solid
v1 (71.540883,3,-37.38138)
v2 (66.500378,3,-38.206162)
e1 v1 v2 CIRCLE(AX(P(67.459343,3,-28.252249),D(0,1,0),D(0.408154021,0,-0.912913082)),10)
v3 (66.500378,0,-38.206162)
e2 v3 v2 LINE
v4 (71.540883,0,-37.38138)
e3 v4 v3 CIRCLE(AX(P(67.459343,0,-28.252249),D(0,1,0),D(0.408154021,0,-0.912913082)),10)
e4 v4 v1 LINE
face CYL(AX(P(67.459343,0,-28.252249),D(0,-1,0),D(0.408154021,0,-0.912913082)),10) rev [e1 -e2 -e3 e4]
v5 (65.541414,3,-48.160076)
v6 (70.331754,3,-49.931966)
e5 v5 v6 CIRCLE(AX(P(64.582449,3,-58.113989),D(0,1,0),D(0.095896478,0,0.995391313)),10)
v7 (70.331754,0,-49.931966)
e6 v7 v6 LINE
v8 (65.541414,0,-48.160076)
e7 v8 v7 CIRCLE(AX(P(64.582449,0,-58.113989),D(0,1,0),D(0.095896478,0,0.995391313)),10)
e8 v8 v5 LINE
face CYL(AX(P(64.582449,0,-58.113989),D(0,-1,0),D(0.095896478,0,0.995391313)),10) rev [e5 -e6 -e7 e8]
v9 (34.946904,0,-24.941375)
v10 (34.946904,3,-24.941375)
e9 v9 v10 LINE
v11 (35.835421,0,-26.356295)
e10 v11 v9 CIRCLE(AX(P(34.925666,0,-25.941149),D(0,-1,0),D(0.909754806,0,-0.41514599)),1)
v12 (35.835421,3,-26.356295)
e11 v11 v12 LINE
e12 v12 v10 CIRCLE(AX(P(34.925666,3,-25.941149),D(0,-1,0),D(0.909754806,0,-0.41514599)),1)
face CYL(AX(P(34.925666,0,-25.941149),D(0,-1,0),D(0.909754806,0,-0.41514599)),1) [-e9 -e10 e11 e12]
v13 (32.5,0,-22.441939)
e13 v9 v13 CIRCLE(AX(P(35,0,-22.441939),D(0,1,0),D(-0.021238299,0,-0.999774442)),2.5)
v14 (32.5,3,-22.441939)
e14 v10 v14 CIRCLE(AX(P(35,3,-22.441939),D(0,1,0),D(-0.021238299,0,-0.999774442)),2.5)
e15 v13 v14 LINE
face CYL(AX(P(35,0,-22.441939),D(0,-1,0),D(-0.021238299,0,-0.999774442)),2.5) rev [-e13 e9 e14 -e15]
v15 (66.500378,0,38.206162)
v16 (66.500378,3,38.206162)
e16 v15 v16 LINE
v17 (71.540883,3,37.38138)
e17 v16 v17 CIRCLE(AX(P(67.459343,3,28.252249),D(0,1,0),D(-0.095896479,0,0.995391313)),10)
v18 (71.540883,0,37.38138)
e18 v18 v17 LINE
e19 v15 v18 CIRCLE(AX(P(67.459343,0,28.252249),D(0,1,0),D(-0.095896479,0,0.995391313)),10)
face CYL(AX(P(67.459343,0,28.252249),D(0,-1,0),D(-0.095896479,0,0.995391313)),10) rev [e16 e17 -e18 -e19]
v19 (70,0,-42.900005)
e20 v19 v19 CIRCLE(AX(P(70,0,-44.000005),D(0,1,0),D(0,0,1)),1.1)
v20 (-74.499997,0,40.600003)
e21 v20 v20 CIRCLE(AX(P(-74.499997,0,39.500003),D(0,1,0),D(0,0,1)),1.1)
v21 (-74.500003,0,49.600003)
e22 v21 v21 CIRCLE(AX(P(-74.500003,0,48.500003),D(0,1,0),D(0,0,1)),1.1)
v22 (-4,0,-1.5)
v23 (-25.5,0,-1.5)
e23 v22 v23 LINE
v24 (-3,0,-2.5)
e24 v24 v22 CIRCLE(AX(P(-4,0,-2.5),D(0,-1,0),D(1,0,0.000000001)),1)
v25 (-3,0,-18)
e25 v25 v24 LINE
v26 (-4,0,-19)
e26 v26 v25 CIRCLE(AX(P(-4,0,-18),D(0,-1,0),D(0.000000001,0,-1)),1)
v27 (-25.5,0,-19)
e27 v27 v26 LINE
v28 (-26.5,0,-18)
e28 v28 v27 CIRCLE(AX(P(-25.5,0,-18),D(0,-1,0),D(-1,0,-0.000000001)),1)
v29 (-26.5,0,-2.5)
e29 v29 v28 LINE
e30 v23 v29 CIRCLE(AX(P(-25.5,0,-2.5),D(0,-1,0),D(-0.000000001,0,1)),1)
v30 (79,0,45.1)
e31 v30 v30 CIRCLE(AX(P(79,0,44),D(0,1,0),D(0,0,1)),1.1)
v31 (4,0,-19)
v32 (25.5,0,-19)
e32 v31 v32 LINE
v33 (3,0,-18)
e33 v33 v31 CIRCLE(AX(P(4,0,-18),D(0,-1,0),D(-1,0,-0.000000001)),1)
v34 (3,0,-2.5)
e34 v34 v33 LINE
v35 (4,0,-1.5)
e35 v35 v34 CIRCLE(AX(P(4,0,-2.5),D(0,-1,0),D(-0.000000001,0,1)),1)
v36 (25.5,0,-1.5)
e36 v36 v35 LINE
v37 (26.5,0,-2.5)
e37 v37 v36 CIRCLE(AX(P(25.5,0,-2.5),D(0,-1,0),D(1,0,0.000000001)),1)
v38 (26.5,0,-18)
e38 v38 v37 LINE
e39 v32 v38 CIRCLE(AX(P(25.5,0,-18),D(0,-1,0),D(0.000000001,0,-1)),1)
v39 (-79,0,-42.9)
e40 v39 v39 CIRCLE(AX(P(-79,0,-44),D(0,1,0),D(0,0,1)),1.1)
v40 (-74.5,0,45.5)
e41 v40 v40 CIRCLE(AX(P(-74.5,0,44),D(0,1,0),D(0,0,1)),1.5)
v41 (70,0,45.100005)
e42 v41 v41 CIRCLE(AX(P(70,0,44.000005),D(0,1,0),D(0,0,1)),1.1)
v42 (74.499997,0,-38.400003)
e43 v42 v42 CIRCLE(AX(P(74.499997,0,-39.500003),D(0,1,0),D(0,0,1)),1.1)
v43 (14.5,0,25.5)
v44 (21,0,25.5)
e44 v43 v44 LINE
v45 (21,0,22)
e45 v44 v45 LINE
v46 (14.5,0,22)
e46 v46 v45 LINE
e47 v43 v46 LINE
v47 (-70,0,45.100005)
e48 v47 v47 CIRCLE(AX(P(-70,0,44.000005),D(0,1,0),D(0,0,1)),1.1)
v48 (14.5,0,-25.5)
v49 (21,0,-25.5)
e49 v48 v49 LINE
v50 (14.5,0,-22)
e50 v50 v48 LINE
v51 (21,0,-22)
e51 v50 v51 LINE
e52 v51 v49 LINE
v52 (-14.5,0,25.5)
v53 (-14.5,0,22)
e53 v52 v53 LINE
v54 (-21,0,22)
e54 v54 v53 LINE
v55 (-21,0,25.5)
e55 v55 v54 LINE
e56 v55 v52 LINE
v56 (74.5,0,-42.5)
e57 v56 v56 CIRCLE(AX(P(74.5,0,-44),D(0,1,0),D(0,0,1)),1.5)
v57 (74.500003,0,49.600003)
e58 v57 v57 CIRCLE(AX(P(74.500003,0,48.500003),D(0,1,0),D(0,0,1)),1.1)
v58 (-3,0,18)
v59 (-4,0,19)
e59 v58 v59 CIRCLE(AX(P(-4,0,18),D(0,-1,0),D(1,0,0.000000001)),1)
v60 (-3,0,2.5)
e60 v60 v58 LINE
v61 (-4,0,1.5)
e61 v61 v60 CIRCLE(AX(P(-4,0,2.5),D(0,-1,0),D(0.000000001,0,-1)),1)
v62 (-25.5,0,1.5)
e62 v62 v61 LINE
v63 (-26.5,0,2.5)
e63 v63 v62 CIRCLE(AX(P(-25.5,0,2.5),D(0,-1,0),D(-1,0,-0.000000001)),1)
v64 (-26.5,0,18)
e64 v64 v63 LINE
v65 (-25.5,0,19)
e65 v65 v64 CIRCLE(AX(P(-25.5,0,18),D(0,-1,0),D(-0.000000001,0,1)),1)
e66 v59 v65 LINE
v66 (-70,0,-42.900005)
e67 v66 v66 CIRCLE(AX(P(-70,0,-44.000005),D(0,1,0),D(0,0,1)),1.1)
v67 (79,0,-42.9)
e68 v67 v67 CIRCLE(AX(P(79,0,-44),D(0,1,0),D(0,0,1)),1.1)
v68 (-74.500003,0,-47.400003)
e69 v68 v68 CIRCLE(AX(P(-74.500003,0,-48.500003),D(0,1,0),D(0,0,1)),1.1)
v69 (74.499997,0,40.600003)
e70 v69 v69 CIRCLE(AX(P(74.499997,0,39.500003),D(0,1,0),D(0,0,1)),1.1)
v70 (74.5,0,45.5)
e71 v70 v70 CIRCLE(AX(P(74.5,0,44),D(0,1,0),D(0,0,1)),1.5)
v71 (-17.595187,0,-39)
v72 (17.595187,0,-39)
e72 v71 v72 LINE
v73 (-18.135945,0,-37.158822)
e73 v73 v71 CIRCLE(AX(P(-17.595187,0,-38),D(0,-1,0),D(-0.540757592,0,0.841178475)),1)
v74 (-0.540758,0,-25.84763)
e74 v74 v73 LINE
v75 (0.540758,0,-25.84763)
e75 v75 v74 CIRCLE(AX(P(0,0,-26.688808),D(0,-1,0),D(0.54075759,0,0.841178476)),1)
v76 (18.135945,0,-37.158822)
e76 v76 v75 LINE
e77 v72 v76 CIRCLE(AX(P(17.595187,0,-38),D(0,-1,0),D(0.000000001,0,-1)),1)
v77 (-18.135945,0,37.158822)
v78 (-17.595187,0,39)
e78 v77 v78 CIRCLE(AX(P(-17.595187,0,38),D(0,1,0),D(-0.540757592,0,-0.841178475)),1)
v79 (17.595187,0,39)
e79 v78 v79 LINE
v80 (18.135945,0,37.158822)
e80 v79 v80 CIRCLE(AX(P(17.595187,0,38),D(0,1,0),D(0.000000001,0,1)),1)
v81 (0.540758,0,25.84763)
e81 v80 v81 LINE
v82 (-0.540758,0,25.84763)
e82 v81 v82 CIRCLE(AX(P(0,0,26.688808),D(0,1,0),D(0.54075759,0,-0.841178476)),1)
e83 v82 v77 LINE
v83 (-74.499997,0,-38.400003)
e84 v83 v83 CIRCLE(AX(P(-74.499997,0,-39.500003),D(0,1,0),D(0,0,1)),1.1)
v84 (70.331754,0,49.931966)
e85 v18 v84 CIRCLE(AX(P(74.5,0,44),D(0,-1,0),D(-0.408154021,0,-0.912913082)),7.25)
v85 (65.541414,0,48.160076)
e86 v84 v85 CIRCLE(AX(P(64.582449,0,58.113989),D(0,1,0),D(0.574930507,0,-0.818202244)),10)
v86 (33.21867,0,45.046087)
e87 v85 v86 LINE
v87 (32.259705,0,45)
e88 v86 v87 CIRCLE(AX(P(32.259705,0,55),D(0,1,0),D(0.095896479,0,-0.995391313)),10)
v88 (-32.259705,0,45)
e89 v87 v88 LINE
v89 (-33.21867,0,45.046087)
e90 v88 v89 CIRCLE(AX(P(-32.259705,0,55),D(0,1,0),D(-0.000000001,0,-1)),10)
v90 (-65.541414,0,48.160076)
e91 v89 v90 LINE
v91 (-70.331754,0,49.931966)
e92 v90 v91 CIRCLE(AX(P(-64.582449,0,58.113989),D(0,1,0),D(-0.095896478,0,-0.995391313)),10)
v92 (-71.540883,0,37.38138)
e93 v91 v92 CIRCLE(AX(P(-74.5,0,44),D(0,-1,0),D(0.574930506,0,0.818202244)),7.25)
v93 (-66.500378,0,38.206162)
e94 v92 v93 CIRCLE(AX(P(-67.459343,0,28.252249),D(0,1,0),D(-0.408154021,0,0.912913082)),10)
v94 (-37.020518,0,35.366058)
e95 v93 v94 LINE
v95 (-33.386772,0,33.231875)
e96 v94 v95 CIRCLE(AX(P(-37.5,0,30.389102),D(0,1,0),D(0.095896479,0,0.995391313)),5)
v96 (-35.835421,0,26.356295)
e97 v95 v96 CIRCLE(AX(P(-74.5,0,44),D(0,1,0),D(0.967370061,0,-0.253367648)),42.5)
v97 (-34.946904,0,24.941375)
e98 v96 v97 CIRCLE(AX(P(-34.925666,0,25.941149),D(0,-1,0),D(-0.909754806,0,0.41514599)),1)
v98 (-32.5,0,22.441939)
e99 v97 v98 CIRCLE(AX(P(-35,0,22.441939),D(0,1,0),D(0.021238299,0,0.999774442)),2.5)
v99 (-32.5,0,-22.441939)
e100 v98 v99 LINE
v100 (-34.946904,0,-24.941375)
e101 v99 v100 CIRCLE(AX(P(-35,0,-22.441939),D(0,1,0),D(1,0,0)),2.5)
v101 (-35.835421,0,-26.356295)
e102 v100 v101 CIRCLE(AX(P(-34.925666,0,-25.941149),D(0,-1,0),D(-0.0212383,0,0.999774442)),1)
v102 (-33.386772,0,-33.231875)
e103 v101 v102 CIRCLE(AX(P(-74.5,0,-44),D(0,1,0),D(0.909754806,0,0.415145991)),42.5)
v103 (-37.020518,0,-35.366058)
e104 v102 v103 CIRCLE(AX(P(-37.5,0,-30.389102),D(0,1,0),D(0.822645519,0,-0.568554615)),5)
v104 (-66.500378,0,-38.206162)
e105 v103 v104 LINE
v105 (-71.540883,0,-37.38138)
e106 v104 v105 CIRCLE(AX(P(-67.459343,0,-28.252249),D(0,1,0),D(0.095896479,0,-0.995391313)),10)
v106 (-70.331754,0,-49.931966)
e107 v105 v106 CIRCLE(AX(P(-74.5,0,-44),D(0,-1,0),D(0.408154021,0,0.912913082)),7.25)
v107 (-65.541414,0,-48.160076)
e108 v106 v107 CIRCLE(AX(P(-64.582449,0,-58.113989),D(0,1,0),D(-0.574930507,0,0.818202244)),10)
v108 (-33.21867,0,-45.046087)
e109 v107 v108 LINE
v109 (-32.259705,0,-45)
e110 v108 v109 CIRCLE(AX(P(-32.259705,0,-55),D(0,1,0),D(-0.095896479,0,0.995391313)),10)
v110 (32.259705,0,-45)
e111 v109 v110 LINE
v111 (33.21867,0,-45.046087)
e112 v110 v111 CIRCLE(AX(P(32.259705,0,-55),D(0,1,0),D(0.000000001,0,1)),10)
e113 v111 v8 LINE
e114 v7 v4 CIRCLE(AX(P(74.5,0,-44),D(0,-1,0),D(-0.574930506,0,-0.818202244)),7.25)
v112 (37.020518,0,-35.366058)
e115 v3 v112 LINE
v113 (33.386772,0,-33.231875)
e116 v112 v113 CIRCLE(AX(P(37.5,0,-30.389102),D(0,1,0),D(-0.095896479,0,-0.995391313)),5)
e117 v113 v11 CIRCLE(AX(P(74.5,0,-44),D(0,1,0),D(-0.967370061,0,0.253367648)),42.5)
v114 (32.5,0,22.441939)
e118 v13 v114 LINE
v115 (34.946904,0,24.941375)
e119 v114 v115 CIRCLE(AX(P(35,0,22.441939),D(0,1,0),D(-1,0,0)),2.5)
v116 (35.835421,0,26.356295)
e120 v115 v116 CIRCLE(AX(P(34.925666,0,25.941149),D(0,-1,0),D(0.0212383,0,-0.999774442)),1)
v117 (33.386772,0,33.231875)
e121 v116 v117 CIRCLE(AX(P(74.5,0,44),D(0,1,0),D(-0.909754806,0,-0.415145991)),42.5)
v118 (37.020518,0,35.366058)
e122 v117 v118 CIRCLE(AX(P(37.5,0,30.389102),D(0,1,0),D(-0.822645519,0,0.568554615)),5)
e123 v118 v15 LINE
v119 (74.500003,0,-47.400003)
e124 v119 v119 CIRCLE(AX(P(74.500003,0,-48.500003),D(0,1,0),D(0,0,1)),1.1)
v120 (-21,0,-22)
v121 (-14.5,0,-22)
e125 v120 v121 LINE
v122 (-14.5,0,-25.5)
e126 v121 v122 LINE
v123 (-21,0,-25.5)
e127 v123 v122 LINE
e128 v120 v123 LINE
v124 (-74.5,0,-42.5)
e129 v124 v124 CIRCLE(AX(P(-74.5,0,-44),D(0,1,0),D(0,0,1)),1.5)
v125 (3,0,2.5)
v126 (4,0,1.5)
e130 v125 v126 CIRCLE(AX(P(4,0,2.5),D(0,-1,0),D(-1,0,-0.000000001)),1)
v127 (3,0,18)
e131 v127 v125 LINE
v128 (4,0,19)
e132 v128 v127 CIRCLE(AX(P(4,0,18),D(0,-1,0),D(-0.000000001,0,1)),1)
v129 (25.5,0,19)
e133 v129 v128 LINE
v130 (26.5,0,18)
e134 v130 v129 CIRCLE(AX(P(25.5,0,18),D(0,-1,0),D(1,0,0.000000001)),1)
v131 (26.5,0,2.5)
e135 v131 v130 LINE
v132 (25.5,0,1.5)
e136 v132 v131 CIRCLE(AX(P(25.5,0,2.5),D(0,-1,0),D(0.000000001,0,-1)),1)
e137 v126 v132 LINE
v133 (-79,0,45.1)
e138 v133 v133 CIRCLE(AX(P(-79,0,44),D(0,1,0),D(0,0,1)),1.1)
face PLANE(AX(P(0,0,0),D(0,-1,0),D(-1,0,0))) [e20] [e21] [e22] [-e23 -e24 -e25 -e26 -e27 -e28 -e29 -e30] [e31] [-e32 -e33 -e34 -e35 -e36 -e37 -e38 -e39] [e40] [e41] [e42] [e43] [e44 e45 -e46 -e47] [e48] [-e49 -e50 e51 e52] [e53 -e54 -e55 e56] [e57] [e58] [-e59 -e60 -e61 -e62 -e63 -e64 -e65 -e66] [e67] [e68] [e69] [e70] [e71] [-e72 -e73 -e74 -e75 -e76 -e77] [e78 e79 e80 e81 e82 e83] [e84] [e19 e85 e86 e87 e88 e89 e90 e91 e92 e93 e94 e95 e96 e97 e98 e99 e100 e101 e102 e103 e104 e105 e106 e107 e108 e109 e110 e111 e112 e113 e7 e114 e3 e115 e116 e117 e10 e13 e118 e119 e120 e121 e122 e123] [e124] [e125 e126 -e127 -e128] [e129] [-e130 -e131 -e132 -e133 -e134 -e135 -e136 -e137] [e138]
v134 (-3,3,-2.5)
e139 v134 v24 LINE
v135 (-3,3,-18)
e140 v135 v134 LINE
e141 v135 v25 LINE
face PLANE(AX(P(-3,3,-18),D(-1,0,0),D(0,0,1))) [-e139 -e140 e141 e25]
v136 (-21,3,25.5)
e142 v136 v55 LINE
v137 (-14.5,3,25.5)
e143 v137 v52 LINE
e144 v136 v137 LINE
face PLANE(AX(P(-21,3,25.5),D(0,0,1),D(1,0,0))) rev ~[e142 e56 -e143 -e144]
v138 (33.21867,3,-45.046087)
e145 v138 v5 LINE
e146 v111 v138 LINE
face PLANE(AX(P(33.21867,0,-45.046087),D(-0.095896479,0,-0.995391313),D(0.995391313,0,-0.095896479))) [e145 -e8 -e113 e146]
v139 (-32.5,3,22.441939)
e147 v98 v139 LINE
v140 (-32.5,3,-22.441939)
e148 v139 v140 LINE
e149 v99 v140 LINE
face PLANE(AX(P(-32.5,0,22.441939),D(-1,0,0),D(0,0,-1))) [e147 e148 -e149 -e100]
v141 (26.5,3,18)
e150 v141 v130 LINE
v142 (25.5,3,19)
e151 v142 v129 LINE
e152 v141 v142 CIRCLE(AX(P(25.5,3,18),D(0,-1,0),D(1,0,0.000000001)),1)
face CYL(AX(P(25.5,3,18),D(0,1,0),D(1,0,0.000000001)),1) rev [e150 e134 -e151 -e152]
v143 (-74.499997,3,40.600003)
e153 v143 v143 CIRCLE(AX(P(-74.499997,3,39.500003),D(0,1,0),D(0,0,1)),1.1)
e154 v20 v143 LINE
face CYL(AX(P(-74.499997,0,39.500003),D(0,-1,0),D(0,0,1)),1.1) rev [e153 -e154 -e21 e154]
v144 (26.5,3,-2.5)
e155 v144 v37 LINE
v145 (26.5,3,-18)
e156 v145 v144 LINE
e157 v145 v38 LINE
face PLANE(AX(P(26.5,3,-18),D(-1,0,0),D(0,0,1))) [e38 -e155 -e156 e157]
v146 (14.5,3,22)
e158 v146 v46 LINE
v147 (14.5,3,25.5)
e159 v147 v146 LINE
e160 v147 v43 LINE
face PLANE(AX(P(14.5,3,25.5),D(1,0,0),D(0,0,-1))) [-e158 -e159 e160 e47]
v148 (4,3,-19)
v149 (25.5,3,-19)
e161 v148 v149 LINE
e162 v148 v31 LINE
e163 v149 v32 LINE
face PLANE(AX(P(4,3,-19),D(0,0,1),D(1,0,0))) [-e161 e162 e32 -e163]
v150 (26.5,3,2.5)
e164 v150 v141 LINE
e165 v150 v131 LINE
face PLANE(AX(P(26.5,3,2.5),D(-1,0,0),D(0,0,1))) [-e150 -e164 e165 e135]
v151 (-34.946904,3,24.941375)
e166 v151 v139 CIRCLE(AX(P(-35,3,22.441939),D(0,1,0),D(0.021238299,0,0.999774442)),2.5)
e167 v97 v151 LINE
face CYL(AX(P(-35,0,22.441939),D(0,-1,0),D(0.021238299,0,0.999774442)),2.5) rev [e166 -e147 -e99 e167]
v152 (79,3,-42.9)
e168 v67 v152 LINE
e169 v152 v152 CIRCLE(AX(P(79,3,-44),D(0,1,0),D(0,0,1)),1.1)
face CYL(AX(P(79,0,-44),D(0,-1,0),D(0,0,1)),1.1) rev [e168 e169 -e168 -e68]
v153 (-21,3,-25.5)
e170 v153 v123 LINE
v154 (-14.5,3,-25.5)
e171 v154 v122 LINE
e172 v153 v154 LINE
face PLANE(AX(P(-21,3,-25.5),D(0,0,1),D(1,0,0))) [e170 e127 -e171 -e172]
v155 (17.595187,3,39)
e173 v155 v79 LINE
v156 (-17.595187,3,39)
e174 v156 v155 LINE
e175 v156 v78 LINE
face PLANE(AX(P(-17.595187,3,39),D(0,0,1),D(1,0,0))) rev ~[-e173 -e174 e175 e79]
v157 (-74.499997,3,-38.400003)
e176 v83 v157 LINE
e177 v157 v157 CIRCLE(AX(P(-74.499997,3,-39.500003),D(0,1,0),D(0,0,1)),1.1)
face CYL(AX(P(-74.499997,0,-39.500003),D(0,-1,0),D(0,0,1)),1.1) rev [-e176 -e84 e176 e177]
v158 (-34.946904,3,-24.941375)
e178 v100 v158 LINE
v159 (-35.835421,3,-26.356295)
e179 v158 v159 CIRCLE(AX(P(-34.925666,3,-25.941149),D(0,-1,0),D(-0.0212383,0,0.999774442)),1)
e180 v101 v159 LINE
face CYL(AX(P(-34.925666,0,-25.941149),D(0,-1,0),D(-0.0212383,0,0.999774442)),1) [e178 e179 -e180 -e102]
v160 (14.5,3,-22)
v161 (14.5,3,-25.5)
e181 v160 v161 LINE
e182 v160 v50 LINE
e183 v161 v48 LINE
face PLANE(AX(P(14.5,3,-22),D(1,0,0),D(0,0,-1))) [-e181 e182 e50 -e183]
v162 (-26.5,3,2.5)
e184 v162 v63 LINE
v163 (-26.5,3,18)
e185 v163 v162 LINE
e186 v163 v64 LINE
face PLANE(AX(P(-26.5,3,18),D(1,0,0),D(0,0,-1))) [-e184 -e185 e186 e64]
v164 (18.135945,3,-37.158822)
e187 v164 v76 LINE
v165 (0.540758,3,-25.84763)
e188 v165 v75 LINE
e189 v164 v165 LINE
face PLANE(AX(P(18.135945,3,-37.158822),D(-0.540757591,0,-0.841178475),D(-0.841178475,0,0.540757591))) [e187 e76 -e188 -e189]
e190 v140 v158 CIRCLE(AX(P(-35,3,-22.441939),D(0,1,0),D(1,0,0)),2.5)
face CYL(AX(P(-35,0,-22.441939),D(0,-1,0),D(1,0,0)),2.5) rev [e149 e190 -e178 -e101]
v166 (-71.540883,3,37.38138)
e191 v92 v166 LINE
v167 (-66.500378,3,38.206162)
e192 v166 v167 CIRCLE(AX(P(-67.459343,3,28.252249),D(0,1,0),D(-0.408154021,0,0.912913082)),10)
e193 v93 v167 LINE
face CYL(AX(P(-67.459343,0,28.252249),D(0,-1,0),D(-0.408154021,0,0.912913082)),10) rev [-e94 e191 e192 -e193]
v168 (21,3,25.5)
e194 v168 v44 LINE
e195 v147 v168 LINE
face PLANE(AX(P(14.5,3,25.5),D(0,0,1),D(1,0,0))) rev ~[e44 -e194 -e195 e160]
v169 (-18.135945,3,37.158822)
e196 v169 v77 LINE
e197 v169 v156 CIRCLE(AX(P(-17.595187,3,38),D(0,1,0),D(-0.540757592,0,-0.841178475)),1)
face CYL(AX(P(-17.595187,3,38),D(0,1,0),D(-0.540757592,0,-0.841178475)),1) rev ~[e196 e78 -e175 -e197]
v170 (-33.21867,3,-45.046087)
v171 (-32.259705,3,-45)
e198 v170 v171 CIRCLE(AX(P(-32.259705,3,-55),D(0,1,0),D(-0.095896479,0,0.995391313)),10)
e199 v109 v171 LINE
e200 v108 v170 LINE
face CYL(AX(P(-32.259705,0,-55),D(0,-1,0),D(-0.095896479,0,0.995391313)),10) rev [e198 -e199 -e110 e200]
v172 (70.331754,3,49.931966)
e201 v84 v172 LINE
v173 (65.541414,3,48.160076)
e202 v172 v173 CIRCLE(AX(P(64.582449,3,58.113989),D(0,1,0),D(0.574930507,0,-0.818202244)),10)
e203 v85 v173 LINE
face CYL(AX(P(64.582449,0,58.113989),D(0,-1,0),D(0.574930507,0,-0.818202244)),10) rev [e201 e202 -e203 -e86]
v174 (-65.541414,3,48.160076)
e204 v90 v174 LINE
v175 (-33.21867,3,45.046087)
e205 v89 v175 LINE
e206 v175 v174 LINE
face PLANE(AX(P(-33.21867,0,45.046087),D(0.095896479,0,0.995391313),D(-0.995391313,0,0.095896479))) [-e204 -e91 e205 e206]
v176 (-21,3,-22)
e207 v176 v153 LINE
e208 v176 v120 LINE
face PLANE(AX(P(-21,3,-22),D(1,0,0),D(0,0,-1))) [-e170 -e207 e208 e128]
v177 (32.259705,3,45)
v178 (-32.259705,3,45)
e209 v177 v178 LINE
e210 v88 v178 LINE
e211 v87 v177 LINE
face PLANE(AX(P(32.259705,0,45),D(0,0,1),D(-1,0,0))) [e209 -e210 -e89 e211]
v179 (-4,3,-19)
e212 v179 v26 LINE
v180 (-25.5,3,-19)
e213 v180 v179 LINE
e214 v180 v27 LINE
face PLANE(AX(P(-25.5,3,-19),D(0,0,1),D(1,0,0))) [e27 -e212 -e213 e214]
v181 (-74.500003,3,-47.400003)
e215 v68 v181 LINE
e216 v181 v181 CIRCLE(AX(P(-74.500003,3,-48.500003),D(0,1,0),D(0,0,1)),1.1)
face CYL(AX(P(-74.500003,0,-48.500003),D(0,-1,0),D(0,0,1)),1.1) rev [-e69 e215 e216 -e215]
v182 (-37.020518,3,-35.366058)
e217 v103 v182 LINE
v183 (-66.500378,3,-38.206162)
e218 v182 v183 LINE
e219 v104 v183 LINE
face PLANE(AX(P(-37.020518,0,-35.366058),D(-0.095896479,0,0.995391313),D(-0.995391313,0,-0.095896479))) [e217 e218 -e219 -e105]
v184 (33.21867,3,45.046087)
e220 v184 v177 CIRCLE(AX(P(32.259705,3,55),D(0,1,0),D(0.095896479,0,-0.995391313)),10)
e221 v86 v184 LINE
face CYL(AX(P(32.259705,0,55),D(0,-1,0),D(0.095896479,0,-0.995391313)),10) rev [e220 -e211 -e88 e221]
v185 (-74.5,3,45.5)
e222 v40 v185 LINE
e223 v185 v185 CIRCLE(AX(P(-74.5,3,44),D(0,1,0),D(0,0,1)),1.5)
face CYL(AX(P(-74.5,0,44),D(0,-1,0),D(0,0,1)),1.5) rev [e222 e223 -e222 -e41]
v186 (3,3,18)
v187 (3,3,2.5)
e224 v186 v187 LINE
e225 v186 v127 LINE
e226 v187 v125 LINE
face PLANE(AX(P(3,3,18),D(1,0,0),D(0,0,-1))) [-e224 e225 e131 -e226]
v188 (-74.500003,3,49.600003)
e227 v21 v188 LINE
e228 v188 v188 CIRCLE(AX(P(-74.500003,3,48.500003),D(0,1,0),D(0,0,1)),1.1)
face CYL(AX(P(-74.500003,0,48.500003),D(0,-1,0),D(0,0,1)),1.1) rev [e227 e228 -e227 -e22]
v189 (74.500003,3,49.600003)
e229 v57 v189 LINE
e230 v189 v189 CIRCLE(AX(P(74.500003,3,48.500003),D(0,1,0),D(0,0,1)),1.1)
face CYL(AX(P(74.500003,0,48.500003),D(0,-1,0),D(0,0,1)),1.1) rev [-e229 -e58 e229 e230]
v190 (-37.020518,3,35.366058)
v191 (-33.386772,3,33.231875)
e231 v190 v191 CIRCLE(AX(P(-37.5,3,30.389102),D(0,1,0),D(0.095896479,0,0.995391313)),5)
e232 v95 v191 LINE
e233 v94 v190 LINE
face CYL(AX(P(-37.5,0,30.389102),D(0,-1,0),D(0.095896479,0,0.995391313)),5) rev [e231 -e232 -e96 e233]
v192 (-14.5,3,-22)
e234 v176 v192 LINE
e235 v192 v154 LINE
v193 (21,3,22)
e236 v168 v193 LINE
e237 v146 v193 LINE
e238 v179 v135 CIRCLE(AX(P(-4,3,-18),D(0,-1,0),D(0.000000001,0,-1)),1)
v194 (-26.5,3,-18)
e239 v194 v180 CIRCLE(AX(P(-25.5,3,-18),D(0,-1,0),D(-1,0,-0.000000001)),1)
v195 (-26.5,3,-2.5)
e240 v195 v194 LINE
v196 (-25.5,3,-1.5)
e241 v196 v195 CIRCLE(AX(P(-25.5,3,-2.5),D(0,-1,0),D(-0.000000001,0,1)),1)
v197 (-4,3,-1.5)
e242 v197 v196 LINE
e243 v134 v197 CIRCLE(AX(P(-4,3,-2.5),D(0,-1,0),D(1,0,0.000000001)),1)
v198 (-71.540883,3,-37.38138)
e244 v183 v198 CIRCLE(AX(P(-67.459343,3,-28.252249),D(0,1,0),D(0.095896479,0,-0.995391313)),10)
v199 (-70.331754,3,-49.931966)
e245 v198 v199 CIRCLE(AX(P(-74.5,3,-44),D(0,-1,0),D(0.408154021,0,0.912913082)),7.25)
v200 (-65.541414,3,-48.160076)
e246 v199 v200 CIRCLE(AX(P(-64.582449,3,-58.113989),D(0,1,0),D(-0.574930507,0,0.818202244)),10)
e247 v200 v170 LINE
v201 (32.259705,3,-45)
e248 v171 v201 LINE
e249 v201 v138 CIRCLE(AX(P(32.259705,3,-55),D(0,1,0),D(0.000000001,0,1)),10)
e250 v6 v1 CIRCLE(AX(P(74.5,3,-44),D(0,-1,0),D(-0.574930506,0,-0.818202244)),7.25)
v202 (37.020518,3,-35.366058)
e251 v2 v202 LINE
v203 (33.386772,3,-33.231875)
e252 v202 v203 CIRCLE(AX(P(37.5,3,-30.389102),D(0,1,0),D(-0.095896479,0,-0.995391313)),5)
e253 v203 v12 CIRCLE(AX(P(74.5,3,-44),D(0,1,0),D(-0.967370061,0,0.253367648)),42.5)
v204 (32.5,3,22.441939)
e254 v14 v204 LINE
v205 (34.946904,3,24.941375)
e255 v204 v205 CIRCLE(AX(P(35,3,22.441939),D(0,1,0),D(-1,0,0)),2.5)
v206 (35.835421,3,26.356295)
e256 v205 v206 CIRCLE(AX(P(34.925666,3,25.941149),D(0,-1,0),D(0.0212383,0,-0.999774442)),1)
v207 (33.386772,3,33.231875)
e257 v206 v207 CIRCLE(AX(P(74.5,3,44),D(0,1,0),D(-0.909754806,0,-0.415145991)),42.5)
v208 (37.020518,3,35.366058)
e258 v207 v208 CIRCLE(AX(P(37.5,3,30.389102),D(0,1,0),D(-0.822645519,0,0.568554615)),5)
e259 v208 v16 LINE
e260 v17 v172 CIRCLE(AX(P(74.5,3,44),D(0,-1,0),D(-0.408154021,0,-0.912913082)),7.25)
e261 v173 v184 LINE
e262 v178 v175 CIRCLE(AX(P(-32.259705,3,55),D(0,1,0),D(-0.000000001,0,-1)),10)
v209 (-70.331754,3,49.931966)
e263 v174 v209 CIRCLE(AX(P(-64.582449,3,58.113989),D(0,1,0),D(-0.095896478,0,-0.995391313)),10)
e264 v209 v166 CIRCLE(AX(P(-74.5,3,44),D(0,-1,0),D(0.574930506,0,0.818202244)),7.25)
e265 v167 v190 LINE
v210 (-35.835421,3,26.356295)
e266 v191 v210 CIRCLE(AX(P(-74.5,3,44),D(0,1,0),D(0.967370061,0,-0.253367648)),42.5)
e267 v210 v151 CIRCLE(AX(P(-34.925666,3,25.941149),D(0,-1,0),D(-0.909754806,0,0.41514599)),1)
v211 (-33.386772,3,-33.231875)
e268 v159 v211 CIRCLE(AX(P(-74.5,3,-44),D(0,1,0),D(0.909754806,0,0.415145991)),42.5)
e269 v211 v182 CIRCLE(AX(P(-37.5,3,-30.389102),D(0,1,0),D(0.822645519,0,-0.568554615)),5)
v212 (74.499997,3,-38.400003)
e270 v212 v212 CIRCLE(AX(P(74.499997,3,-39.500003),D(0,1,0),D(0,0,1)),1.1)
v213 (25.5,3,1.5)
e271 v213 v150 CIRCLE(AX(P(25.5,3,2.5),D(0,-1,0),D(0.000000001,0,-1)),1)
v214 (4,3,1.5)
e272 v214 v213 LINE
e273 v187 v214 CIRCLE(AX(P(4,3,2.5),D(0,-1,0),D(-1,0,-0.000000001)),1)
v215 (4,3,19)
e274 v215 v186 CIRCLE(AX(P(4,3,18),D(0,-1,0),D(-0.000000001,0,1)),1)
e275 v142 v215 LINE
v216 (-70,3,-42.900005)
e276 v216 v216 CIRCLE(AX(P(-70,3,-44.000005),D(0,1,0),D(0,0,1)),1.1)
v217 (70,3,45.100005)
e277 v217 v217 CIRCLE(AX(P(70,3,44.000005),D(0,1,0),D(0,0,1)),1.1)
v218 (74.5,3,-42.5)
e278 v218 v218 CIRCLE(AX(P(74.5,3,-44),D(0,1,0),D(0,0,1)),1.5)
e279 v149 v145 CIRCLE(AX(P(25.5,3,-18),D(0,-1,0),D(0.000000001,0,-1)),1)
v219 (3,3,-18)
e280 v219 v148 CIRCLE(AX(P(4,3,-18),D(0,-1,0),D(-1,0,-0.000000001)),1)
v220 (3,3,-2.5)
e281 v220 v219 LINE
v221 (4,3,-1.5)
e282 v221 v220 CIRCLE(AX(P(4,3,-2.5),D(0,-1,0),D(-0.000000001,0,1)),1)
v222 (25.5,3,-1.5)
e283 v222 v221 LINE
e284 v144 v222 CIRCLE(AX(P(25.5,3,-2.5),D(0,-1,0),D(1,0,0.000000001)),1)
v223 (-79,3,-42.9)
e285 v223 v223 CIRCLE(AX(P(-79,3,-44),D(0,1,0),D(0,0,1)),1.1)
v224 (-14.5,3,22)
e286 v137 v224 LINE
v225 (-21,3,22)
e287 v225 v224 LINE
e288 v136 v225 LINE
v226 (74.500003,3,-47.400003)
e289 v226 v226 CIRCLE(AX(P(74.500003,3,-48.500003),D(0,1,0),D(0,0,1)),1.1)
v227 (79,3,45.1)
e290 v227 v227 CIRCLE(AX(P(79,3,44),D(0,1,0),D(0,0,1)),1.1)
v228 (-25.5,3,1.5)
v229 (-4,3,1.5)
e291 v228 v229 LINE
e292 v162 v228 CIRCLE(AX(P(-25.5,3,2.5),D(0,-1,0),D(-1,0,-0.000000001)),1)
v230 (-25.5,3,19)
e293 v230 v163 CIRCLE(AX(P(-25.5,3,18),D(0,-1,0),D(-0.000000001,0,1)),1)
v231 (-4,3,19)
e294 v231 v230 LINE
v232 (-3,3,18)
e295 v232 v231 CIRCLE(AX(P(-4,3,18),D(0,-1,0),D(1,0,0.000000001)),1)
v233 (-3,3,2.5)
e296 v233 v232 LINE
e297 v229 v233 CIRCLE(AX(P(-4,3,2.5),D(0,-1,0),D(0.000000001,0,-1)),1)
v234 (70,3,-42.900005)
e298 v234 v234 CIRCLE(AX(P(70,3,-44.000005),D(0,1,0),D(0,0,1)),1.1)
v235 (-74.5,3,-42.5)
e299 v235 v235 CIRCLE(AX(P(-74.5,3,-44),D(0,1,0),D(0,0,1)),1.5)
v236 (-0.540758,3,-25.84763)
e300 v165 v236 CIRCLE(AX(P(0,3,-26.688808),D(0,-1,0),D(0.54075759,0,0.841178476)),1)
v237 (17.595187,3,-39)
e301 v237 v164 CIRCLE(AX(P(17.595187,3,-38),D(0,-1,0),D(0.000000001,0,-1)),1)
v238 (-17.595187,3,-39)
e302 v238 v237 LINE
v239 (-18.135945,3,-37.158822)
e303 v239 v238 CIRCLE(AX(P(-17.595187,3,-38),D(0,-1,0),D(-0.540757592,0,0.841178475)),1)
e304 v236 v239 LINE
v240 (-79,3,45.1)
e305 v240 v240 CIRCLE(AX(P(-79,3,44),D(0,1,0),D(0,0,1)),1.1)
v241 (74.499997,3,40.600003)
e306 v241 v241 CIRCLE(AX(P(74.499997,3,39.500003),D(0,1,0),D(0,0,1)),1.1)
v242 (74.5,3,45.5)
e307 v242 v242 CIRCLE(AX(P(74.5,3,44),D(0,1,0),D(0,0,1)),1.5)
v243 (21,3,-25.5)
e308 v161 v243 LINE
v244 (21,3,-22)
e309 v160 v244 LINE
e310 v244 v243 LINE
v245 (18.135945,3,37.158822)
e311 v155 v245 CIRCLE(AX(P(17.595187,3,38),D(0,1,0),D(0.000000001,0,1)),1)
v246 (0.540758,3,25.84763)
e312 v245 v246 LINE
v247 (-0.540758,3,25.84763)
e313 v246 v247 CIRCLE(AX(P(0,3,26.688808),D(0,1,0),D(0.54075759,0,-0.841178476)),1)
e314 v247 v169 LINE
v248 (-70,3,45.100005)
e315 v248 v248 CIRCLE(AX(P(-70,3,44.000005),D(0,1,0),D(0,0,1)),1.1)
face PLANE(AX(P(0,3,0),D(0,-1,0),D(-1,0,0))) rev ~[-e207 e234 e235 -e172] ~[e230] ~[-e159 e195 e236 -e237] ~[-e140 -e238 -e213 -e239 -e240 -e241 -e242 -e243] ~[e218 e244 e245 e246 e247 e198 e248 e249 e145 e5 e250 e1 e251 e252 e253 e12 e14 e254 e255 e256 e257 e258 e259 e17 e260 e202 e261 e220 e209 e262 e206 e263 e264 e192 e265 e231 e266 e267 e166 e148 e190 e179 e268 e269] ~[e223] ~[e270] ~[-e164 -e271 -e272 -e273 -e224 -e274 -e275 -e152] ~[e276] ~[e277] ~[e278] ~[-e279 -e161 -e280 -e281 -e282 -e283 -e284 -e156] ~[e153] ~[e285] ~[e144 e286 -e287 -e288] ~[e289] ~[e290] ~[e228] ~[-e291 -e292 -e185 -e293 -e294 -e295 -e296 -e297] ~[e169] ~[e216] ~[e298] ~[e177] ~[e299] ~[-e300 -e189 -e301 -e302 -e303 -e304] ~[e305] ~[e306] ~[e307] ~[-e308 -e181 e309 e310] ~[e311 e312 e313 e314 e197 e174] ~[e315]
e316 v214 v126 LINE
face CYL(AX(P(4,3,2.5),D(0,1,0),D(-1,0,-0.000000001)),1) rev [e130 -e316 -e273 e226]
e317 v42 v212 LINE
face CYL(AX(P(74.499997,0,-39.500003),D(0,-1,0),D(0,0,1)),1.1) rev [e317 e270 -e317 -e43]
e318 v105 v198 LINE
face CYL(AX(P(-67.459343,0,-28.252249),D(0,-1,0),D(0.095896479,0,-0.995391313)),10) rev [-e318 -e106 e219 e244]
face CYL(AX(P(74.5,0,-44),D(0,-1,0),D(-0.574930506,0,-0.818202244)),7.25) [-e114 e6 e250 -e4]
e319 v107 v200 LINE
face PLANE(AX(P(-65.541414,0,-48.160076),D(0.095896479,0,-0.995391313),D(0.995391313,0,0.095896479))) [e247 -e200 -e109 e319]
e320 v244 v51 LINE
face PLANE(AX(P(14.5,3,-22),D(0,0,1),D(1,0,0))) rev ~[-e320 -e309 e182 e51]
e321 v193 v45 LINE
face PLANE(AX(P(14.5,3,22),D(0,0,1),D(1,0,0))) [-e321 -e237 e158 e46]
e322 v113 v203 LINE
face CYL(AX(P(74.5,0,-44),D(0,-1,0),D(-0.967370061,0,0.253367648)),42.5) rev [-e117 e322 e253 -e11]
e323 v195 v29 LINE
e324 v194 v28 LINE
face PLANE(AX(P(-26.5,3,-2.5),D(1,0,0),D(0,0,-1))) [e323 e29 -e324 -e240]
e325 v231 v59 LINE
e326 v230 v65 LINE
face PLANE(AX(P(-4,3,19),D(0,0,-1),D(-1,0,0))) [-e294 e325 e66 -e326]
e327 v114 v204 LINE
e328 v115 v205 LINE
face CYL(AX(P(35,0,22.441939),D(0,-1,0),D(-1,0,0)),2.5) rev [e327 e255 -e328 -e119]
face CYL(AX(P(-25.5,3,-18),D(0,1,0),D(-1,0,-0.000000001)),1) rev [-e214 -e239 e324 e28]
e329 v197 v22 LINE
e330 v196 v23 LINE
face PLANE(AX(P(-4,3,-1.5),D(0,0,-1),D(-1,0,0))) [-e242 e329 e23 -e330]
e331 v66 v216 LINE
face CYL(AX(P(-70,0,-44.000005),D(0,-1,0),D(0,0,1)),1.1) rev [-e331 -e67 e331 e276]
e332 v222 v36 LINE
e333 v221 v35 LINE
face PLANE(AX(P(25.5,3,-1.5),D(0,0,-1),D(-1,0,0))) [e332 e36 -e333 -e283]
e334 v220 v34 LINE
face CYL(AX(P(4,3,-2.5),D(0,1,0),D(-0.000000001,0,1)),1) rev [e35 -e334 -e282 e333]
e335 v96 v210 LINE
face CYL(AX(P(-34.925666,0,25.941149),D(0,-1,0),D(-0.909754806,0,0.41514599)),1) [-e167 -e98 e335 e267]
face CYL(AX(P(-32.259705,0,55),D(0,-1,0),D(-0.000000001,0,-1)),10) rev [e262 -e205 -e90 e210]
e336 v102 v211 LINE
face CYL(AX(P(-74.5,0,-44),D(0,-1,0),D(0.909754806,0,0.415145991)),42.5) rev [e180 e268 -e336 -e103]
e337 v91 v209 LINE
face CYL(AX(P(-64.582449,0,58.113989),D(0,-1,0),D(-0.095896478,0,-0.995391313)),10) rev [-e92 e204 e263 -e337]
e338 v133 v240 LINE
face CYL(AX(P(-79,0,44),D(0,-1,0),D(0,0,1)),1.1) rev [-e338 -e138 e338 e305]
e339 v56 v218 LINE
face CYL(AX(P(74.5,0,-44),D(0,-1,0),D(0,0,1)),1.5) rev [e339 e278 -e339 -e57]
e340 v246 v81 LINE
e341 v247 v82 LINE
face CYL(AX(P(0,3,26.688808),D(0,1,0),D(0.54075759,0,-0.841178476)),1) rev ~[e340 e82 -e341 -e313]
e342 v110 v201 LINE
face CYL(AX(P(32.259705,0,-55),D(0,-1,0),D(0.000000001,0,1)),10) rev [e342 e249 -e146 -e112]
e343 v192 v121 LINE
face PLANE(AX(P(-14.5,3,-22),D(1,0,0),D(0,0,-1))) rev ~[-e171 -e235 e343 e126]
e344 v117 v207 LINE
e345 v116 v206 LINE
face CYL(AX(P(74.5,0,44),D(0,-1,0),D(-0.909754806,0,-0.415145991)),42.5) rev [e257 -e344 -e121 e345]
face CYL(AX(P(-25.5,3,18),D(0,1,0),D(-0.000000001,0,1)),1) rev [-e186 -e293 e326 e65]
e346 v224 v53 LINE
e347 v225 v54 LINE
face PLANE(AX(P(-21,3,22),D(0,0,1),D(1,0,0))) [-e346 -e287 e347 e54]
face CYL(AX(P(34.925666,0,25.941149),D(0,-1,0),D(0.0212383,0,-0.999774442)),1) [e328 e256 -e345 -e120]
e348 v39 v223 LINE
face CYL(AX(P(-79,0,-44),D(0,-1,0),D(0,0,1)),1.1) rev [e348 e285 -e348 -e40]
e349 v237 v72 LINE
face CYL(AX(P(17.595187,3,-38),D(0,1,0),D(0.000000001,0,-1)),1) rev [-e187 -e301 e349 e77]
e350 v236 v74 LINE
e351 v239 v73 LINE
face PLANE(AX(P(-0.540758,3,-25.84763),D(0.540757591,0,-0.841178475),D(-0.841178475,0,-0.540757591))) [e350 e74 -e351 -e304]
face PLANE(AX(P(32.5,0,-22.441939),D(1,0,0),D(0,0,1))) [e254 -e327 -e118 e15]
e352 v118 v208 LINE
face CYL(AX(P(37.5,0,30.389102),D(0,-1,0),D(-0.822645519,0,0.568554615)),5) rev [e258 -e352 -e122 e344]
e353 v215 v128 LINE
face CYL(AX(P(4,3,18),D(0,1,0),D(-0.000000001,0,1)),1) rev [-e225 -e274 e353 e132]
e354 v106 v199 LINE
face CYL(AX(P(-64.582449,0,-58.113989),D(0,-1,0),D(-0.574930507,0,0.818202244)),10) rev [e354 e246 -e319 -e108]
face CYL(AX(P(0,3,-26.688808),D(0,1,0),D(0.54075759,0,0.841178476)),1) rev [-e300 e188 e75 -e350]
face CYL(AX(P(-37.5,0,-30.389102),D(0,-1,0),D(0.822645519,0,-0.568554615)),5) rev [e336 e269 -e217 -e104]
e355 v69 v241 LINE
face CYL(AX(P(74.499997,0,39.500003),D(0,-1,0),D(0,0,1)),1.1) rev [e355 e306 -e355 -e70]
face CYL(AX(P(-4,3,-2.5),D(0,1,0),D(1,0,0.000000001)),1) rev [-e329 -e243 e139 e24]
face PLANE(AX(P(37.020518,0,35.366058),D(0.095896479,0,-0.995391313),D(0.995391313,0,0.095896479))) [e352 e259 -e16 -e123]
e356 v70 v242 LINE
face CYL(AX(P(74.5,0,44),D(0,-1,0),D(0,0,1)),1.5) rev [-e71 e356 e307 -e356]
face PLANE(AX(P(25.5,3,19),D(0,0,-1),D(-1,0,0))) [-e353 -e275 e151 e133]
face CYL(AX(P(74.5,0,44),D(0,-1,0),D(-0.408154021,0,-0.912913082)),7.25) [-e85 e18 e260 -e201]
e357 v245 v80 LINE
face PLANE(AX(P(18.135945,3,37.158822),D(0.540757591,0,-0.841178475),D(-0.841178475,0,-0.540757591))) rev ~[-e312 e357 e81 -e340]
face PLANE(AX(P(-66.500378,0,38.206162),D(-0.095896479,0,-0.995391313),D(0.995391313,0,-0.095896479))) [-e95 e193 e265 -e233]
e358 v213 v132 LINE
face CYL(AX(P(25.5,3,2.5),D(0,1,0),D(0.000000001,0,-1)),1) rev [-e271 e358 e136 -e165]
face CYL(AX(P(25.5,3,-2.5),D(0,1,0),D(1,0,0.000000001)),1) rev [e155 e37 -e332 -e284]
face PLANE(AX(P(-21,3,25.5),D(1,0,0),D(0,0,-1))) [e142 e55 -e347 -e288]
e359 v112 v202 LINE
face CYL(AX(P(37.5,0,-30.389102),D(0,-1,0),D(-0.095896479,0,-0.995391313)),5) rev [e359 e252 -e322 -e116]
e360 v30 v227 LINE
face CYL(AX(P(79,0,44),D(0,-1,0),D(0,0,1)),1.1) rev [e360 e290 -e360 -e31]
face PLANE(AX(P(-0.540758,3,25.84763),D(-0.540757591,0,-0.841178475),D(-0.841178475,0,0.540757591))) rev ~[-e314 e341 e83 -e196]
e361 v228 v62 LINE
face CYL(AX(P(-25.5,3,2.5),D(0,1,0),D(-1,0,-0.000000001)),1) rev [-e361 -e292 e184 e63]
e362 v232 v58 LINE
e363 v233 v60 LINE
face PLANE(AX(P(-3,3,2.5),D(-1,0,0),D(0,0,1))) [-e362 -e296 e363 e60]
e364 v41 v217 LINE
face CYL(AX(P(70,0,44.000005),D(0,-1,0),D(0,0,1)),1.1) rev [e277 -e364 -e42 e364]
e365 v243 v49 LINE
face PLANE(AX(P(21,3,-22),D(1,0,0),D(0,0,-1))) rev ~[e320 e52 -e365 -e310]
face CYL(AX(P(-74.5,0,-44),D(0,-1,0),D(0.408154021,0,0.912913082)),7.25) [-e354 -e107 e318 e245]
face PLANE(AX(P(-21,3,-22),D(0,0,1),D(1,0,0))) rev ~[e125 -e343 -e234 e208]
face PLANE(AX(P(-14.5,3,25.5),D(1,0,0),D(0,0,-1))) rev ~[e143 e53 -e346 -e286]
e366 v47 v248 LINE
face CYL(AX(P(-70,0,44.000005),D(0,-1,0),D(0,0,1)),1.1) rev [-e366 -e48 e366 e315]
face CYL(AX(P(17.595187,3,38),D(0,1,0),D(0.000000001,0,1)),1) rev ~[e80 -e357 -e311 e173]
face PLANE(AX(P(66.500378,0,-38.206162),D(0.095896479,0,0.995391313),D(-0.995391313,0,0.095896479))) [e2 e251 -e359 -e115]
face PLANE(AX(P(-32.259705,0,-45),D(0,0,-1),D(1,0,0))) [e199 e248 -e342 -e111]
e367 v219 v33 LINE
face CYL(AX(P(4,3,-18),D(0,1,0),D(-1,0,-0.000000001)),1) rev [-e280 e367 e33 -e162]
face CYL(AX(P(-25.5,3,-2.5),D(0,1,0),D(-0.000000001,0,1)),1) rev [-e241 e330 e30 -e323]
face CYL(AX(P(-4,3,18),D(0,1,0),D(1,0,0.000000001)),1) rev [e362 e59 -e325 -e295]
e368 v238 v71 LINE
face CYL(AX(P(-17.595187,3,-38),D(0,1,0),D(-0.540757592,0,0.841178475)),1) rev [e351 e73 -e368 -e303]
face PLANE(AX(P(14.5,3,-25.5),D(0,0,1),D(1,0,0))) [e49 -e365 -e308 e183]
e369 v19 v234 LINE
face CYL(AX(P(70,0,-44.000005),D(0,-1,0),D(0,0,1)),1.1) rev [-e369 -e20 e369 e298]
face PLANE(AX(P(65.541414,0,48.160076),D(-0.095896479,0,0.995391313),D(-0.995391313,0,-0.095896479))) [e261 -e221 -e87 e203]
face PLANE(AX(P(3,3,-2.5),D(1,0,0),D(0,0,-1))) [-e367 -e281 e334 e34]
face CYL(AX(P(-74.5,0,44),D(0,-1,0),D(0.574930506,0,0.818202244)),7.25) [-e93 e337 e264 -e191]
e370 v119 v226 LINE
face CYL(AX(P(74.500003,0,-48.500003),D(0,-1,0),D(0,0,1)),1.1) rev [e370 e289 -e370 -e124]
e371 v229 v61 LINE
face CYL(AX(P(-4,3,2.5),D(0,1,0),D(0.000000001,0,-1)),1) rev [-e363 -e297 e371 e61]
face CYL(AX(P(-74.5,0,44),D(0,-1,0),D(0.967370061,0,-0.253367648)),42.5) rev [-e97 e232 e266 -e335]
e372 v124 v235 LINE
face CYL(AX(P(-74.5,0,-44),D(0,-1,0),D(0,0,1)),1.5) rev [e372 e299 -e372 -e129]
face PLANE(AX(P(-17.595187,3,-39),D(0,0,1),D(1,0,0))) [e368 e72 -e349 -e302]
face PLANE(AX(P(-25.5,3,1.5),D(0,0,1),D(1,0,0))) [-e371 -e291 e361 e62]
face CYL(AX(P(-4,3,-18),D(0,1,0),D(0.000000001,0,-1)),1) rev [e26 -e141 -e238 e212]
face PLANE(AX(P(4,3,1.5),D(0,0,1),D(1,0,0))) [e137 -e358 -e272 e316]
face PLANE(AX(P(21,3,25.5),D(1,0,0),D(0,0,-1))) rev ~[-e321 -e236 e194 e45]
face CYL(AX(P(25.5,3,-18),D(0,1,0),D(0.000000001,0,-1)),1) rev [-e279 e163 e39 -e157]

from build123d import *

# Parameters (mm, degrees)
SKETCH1_R           = 1.1
SKETCH1_R_2         = 1.099999998
SKETCH1_R_3         = 1.100000002
SKETCH1_R_4         = 1.100000004
SKETCH1_R_5         = 1.099999996
SKETCH1_R_6         = 1.5
BOSS_EXTRUDE1_DEPTH = 3
SKETCH2_W           = 6.5
SKETCH2_H           = 3.5
CUT_EXTRUDE1_DEPTH  = 3


with BuildPart() as part:
    # Sketch1 → Boss-Extrude1 (new body)
    with BuildSketch(Plane(origin=(0, 0, 0), x_dir=(1, 0, 0), z_dir=(0, 1, 0))):
        with BuildLine():
            Line((-65.541413555, 48.16007559), (-33.218669872, 45.046086874))
            ThreePointArc((-33.218669872, 45.046086874), (-32.739740879, 45.011528364), (-32.25970508, 45))
            Line((-32.25970508, 45), (32.25970508, 45))
            ThreePointArc((32.25970508, 45), (32.739740879, 45.011528364), (33.218669872, 45.046086874))
            Line((33.218669872, 45.046086874), (65.541413555, 48.16007559))
            ThreePointArc((65.541413555, 48.16007559), (68.051615849, 48.735029299), (70.331753828, 49.931966272))
            ThreePointArc((70.331753828, 49.931966272), (81.716587017, 44.695249474), (71.540883348, 37.381380156))
            ThreePointArc((71.540883348, 37.381380156), (69.074176187, 38.121003778), (66.500378347, 38.206162463))
            Line((66.500378347, 38.206162463), (37.020517604, 35.366058461))
            ThreePointArc((37.020517604, 35.366058461), (34.967820887, 34.700490182), (33.386772404, 33.231874971))
            ThreePointArc((33.386772404, 33.231874971), (34.463229219, 29.741424145), (35.835420758, 26.3562954))
            ThreePointArc((35.835420758, 26.3562954), (35.77253489, 25.409347753), (34.946904251, 24.941374967))
            ThreePointArc((34.946904251, 24.941374967), (33.213559493, 24.190832889), (32.5, 22.441938863))
            Line((32.5, 22.441938863), (32.5, -22.441938863))
            ThreePointArc((32.5, -22.441938863), (33.213559493, -24.190832889), (34.946904251, -24.941374967))
            ThreePointArc((34.946904251, -24.941374967), (35.77253489, -25.409347753), (35.835420758, -26.3562954))
            ThreePointArc((35.835420758, -26.3562954), (34.463229219, -29.741424145), (33.386772404, -33.231874971))
            ThreePointArc((33.386772404, -33.231874971), (34.967820887, -34.700490182), (37.020517604, -35.366058461))
            Line((37.020517604, -35.366058461), (66.500378347, -38.206162463))
            ThreePointArc((66.500378347, -38.206162463), (69.074176187, -38.121003778), (71.540883348, -37.381380156))
            ThreePointArc((71.540883348, -37.381380156), (81.716587017, -44.695249474), (70.331753828, -49.931966272))
            ThreePointArc((70.331753828, -49.931966272), (68.051615849, -48.735029299), (65.541413555, -48.16007559))
            Line((65.541413555, -48.16007559), (33.218669872, -45.046086874))
            ThreePointArc((33.218669872, -45.046086874), (32.739740879, -45.011528364), (32.25970508, -45))
            Line((32.25970508, -45), (-32.25970508, -45))
            ThreePointArc((-32.25970508, -45), (-32.739740879, -45.011528364), (-33.218669872, -45.046086874))
            Line((-33.218669872, -45.046086874), (-65.541413555, -48.16007559))
            ThreePointArc((-65.541413555, -48.16007559), (-68.051615849, -48.735029299), (-70.331753828, -49.931966272))
            ThreePointArc((-70.331753828, -49.931966272), (-81.716587017, -44.695249474), (-71.540883348, -37.381380156))
            ThreePointArc((-71.540883348, -37.381380156), (-69.074176187, -38.121003778), (-66.500378347, -38.206162463))
            Line((-66.500378347, -38.206162463), (-37.020517604, -35.366058461))
            ThreePointArc((-37.020517604, -35.366058461), (-34.967820887, -34.700490182), (-33.386772404, -33.231874971))
            ThreePointArc((-33.386772404, -33.231874971), (-34.463229219, -29.741424145), (-35.835420758, -26.3562954))
            ThreePointArc((-35.835420758, -26.3562954), (-35.77253489, -25.409347753), (-34.946904251, -24.941374967))
            ThreePointArc((-34.946904251, -24.941374967), (-33.213559493, -24.190832889), (-32.5, -22.441938863))
            Line((-32.5, -22.441938863), (-32.5, 22.441938863))
            ThreePointArc((-32.5, 22.441938863), (-33.213559493, 24.190832889), (-34.946904251, 24.941374967))
            ThreePointArc((-34.946904251, 24.941374967), (-35.77253489, 25.409347753), (-35.835420758, 26.3562954))
            ThreePointArc((-35.835420758, 26.3562954), (-34.463229219, 29.741424145), (-33.386772404, 33.231874971))
            ThreePointArc((-33.386772404, 33.231874971), (-34.967820887, 34.700490182), (-37.020517604, 35.366058461))
            Line((-37.020517604, 35.366058461), (-66.500378347, 38.206162463))
            ThreePointArc((-66.500378347, 38.206162463), (-69.074176187, 38.121003778), (-71.540883348, 37.381380156))
            ThreePointArc((-71.540883348, 37.381380156), (-81.716587017, 44.695249474), (-70.331753828, 49.931966272))
            ThreePointArc((-70.331753828, 49.931966272), (-68.051615849, 48.735029299), (-65.541413555, 48.16007559))
        make_face()
        with Locations(Location((-79, 44, 0), (0, 0, 270))):
            Circle(SKETCH1_R, mode=Mode.SUBTRACT)
        with Locations(Location((79, 44, 0), (0, 0, 270))):
            Circle(SKETCH1_R, mode=Mode.SUBTRACT)
        with Locations(Location((-74.500002544, 48.500002544, 0), (0, 0, 270))):
            Circle(SKETCH1_R_2, mode=Mode.SUBTRACT)
        with Locations(Location((-70, 44.000005089, 0), (0, 0, 270))):
            Circle(SKETCH1_R_3, mode=Mode.SUBTRACT)
        with Locations(Location((-74.499997456, 39.500002544, 0), (0, 0, 270))):
            Circle(SKETCH1_R_4, mode=Mode.SUBTRACT)
        with Locations(Location((-74.499997456, -39.500002544, 0), (0, 0, 270))):
            Circle(SKETCH1_R_3, mode=Mode.SUBTRACT)
        with Locations(Location((-70, -44.000005089, 0), (0, 0, 270))):
            Circle(SKETCH1_R_2, mode=Mode.SUBTRACT)
        with Locations(Location((-74.500002544, -48.500002544, 0), (0, 0, 270))):
            Circle(SKETCH1_R_5, mode=Mode.SUBTRACT)
        with Locations(Location((-79, -44, 0), (0, 0, 270))):
            Circle(SKETCH1_R, mode=Mode.SUBTRACT)
        with Locations(Location((79, -44, 0), (0, 0, 270))):
            Circle(SKETCH1_R, mode=Mode.SUBTRACT)
        with Locations(Location((74.500002544, -48.500002544, 0), (0, 0, 270))):
            Circle(SKETCH1_R_3, mode=Mode.SUBTRACT)
        with Locations(Location((70, -44.000005089, 0), (0, 0, 270))):
            Circle(SKETCH1_R_2, mode=Mode.SUBTRACT)
        with Locations(Location((74.499997456, -39.500002544, 0), (0, 0, 270))):
            Circle(SKETCH1_R_5, mode=Mode.SUBTRACT)
        with Locations(Location((74.499997456, 39.500002544, 0), (0, 0, 270))):
            Circle(SKETCH1_R_2, mode=Mode.SUBTRACT)
        with Locations(Location((70, 44.000005089, 0), (0, 0, 270))):
            Circle(SKETCH1_R_3, mode=Mode.SUBTRACT)
        with Locations(Location((74.500002544, 48.500002544, 0), (0, 0, 270))):
            Circle(SKETCH1_R_4, mode=Mode.SUBTRACT)
        with Locations(Location((-74.5, -44, 0), (0, 0, 270))):
            Circle(SKETCH1_R_6, mode=Mode.SUBTRACT)
        with Locations(Location((-74.5, 44, 0), (0, 0, 270))):
            Circle(SKETCH1_R_6, mode=Mode.SUBTRACT)
        with Locations(Location((74.5, 44, 0), (0, 0, 270))):
            Circle(SKETCH1_R_6, mode=Mode.SUBTRACT)
        with Locations(Location((74.5, -44, 0), (0, 0, 270))):
            Circle(SKETCH1_R_6, mode=Mode.SUBTRACT)
    extrude(amount=BOSS_EXTRUDE1_DEPTH)

    # Sketch2 → Cut-Extrude1 (cut)
    with BuildSketch(Plane(origin=(0, 3, 0), x_dir=(1, 0, 0), z_dir=(0, 1, 0))):
        with Locations((-17.75, 23.75)):
            Rectangle(SKETCH2_W, SKETCH2_H)
        with Locations((-17.75, -23.75)):
            Rectangle(SKETCH2_W, SKETCH2_H)
        with Locations((17.75, -23.75)):
            Rectangle(SKETCH2_W, SKETCH2_H)
        with Locations((17.75, 23.75)):
            Rectangle(SKETCH2_W, SKETCH2_H)
        with BuildLine():
            Line((-25.5, 19), (-4, 19))
            ThreePointArc((-4, 19), (-3.292893219, 18.707106781), (-3, 18))
            Line((-3, 18), (-3, 2.5))
            ThreePointArc((-3, 2.5), (-3.292893219, 1.792893219), (-4, 1.5))
            Line((-4, 1.5), (-25.5, 1.5))
            ThreePointArc((-25.5, 1.5), (-26.207106781, 1.792893219), (-26.5, 2.5))
            Line((-26.5, 2.5), (-26.5, 18))
            ThreePointArc((-26.5, 18), (-26.207106781, 18.707106781), (-25.5, 19))
        make_face()
        with BuildLine():
            Line((-25.5, -1.5), (-4, -1.5))
            ThreePointArc((-4, -1.5), (-3.292893219, -1.792893219), (-3, -2.5))
            Line((-3, -2.5), (-3, -18))
            ThreePointArc((-3, -18), (-3.292893219, -18.707106781), (-4, -19))
            Line((-4, -19), (-25.5, -19))
            ThreePointArc((-25.5, -19), (-26.207106781, -18.707106781), (-26.5, -18))
            Line((-26.5, -18), (-26.5, -2.5))
            ThreePointArc((-26.5, -2.5), (-26.207106781, -1.792893219), (-25.5, -1.5))
        make_face()
        with BuildLine():
            Line((4, 19), (25.5, 19))
            ThreePointArc((25.5, 19), (26.207106781, 18.707106781), (26.5, 18))
            Line((26.5, 18), (26.5, 2.5))
            ThreePointArc((26.5, 2.5), (26.207106781, 1.792893219), (25.5, 1.5))
            Line((25.5, 1.5), (4, 1.5))
            ThreePointArc((4, 1.5), (3.292893219, 1.792893219), (3, 2.5))
            Line((3, 2.5), (3, 18))
            ThreePointArc((3, 18), (3.292893219, 18.707106781), (4, 19))
        make_face()
        with BuildLine():
            Line((4, -1.5), (25.5, -1.5))
            ThreePointArc((25.5, -1.5), (26.207106781, -1.792893219), (26.5, -2.5))
            Line((26.5, -2.5), (26.5, -18))
            ThreePointArc((26.5, -18), (26.207106781, -18.707106781), (25.5, -19))
            Line((25.5, -19), (4, -19))
            ThreePointArc((4, -19), (3.292893219, -18.707106781), (3, -18))
            Line((3, -18), (3, -2.5))
            ThreePointArc((3, -2.5), (3.292893219, -1.792893219), (4, -1.5))
        make_face()
        with BuildLine():
            Line((-17.595187003, 39), (17.595187003, 39))
            ThreePointArc((17.595187003, 39), (18.554660419, 38.281799152), (18.135944594, 37.158821525))
            Line((18.135944594, 37.158821525), (0.540757591, 25.84762988))
            ThreePointArc((0.540757591, 25.84762988), (0, 25.688808356), (-0.540757591, 25.84762988))
            Line((-0.540757591, 25.84762988), (-18.135944594, 37.158821525))
            ThreePointArc((-18.135944594, 37.158821525), (-18.554660419, 38.281799152), (-17.595187003, 39))
        make_face()
        with BuildLine():
            Line((-17.595187003, -39), (17.595187003, -39))
            ThreePointArc((17.595187003, -39), (18.554660419, -38.281799152), (18.135944594, -37.158821525))
            Line((18.135944594, -37.158821525), (0.540757591, -25.84762988))
            ThreePointArc((0.540757591, -25.84762988), (0, -25.688808356), (-0.540757591, -25.84762988))
            Line((-0.540757591, -25.84762988), (-18.135944594, -37.158821525))
            ThreePointArc((-18.135944594, -37.158821525), (-18.554660419, -38.281799152), (-17.595187003, -39))
        make_face()
    extrude(amount=-CUT_EXTRUDE1_DEPTH, mode=Mode.SUBTRACT)


solid = part.part
